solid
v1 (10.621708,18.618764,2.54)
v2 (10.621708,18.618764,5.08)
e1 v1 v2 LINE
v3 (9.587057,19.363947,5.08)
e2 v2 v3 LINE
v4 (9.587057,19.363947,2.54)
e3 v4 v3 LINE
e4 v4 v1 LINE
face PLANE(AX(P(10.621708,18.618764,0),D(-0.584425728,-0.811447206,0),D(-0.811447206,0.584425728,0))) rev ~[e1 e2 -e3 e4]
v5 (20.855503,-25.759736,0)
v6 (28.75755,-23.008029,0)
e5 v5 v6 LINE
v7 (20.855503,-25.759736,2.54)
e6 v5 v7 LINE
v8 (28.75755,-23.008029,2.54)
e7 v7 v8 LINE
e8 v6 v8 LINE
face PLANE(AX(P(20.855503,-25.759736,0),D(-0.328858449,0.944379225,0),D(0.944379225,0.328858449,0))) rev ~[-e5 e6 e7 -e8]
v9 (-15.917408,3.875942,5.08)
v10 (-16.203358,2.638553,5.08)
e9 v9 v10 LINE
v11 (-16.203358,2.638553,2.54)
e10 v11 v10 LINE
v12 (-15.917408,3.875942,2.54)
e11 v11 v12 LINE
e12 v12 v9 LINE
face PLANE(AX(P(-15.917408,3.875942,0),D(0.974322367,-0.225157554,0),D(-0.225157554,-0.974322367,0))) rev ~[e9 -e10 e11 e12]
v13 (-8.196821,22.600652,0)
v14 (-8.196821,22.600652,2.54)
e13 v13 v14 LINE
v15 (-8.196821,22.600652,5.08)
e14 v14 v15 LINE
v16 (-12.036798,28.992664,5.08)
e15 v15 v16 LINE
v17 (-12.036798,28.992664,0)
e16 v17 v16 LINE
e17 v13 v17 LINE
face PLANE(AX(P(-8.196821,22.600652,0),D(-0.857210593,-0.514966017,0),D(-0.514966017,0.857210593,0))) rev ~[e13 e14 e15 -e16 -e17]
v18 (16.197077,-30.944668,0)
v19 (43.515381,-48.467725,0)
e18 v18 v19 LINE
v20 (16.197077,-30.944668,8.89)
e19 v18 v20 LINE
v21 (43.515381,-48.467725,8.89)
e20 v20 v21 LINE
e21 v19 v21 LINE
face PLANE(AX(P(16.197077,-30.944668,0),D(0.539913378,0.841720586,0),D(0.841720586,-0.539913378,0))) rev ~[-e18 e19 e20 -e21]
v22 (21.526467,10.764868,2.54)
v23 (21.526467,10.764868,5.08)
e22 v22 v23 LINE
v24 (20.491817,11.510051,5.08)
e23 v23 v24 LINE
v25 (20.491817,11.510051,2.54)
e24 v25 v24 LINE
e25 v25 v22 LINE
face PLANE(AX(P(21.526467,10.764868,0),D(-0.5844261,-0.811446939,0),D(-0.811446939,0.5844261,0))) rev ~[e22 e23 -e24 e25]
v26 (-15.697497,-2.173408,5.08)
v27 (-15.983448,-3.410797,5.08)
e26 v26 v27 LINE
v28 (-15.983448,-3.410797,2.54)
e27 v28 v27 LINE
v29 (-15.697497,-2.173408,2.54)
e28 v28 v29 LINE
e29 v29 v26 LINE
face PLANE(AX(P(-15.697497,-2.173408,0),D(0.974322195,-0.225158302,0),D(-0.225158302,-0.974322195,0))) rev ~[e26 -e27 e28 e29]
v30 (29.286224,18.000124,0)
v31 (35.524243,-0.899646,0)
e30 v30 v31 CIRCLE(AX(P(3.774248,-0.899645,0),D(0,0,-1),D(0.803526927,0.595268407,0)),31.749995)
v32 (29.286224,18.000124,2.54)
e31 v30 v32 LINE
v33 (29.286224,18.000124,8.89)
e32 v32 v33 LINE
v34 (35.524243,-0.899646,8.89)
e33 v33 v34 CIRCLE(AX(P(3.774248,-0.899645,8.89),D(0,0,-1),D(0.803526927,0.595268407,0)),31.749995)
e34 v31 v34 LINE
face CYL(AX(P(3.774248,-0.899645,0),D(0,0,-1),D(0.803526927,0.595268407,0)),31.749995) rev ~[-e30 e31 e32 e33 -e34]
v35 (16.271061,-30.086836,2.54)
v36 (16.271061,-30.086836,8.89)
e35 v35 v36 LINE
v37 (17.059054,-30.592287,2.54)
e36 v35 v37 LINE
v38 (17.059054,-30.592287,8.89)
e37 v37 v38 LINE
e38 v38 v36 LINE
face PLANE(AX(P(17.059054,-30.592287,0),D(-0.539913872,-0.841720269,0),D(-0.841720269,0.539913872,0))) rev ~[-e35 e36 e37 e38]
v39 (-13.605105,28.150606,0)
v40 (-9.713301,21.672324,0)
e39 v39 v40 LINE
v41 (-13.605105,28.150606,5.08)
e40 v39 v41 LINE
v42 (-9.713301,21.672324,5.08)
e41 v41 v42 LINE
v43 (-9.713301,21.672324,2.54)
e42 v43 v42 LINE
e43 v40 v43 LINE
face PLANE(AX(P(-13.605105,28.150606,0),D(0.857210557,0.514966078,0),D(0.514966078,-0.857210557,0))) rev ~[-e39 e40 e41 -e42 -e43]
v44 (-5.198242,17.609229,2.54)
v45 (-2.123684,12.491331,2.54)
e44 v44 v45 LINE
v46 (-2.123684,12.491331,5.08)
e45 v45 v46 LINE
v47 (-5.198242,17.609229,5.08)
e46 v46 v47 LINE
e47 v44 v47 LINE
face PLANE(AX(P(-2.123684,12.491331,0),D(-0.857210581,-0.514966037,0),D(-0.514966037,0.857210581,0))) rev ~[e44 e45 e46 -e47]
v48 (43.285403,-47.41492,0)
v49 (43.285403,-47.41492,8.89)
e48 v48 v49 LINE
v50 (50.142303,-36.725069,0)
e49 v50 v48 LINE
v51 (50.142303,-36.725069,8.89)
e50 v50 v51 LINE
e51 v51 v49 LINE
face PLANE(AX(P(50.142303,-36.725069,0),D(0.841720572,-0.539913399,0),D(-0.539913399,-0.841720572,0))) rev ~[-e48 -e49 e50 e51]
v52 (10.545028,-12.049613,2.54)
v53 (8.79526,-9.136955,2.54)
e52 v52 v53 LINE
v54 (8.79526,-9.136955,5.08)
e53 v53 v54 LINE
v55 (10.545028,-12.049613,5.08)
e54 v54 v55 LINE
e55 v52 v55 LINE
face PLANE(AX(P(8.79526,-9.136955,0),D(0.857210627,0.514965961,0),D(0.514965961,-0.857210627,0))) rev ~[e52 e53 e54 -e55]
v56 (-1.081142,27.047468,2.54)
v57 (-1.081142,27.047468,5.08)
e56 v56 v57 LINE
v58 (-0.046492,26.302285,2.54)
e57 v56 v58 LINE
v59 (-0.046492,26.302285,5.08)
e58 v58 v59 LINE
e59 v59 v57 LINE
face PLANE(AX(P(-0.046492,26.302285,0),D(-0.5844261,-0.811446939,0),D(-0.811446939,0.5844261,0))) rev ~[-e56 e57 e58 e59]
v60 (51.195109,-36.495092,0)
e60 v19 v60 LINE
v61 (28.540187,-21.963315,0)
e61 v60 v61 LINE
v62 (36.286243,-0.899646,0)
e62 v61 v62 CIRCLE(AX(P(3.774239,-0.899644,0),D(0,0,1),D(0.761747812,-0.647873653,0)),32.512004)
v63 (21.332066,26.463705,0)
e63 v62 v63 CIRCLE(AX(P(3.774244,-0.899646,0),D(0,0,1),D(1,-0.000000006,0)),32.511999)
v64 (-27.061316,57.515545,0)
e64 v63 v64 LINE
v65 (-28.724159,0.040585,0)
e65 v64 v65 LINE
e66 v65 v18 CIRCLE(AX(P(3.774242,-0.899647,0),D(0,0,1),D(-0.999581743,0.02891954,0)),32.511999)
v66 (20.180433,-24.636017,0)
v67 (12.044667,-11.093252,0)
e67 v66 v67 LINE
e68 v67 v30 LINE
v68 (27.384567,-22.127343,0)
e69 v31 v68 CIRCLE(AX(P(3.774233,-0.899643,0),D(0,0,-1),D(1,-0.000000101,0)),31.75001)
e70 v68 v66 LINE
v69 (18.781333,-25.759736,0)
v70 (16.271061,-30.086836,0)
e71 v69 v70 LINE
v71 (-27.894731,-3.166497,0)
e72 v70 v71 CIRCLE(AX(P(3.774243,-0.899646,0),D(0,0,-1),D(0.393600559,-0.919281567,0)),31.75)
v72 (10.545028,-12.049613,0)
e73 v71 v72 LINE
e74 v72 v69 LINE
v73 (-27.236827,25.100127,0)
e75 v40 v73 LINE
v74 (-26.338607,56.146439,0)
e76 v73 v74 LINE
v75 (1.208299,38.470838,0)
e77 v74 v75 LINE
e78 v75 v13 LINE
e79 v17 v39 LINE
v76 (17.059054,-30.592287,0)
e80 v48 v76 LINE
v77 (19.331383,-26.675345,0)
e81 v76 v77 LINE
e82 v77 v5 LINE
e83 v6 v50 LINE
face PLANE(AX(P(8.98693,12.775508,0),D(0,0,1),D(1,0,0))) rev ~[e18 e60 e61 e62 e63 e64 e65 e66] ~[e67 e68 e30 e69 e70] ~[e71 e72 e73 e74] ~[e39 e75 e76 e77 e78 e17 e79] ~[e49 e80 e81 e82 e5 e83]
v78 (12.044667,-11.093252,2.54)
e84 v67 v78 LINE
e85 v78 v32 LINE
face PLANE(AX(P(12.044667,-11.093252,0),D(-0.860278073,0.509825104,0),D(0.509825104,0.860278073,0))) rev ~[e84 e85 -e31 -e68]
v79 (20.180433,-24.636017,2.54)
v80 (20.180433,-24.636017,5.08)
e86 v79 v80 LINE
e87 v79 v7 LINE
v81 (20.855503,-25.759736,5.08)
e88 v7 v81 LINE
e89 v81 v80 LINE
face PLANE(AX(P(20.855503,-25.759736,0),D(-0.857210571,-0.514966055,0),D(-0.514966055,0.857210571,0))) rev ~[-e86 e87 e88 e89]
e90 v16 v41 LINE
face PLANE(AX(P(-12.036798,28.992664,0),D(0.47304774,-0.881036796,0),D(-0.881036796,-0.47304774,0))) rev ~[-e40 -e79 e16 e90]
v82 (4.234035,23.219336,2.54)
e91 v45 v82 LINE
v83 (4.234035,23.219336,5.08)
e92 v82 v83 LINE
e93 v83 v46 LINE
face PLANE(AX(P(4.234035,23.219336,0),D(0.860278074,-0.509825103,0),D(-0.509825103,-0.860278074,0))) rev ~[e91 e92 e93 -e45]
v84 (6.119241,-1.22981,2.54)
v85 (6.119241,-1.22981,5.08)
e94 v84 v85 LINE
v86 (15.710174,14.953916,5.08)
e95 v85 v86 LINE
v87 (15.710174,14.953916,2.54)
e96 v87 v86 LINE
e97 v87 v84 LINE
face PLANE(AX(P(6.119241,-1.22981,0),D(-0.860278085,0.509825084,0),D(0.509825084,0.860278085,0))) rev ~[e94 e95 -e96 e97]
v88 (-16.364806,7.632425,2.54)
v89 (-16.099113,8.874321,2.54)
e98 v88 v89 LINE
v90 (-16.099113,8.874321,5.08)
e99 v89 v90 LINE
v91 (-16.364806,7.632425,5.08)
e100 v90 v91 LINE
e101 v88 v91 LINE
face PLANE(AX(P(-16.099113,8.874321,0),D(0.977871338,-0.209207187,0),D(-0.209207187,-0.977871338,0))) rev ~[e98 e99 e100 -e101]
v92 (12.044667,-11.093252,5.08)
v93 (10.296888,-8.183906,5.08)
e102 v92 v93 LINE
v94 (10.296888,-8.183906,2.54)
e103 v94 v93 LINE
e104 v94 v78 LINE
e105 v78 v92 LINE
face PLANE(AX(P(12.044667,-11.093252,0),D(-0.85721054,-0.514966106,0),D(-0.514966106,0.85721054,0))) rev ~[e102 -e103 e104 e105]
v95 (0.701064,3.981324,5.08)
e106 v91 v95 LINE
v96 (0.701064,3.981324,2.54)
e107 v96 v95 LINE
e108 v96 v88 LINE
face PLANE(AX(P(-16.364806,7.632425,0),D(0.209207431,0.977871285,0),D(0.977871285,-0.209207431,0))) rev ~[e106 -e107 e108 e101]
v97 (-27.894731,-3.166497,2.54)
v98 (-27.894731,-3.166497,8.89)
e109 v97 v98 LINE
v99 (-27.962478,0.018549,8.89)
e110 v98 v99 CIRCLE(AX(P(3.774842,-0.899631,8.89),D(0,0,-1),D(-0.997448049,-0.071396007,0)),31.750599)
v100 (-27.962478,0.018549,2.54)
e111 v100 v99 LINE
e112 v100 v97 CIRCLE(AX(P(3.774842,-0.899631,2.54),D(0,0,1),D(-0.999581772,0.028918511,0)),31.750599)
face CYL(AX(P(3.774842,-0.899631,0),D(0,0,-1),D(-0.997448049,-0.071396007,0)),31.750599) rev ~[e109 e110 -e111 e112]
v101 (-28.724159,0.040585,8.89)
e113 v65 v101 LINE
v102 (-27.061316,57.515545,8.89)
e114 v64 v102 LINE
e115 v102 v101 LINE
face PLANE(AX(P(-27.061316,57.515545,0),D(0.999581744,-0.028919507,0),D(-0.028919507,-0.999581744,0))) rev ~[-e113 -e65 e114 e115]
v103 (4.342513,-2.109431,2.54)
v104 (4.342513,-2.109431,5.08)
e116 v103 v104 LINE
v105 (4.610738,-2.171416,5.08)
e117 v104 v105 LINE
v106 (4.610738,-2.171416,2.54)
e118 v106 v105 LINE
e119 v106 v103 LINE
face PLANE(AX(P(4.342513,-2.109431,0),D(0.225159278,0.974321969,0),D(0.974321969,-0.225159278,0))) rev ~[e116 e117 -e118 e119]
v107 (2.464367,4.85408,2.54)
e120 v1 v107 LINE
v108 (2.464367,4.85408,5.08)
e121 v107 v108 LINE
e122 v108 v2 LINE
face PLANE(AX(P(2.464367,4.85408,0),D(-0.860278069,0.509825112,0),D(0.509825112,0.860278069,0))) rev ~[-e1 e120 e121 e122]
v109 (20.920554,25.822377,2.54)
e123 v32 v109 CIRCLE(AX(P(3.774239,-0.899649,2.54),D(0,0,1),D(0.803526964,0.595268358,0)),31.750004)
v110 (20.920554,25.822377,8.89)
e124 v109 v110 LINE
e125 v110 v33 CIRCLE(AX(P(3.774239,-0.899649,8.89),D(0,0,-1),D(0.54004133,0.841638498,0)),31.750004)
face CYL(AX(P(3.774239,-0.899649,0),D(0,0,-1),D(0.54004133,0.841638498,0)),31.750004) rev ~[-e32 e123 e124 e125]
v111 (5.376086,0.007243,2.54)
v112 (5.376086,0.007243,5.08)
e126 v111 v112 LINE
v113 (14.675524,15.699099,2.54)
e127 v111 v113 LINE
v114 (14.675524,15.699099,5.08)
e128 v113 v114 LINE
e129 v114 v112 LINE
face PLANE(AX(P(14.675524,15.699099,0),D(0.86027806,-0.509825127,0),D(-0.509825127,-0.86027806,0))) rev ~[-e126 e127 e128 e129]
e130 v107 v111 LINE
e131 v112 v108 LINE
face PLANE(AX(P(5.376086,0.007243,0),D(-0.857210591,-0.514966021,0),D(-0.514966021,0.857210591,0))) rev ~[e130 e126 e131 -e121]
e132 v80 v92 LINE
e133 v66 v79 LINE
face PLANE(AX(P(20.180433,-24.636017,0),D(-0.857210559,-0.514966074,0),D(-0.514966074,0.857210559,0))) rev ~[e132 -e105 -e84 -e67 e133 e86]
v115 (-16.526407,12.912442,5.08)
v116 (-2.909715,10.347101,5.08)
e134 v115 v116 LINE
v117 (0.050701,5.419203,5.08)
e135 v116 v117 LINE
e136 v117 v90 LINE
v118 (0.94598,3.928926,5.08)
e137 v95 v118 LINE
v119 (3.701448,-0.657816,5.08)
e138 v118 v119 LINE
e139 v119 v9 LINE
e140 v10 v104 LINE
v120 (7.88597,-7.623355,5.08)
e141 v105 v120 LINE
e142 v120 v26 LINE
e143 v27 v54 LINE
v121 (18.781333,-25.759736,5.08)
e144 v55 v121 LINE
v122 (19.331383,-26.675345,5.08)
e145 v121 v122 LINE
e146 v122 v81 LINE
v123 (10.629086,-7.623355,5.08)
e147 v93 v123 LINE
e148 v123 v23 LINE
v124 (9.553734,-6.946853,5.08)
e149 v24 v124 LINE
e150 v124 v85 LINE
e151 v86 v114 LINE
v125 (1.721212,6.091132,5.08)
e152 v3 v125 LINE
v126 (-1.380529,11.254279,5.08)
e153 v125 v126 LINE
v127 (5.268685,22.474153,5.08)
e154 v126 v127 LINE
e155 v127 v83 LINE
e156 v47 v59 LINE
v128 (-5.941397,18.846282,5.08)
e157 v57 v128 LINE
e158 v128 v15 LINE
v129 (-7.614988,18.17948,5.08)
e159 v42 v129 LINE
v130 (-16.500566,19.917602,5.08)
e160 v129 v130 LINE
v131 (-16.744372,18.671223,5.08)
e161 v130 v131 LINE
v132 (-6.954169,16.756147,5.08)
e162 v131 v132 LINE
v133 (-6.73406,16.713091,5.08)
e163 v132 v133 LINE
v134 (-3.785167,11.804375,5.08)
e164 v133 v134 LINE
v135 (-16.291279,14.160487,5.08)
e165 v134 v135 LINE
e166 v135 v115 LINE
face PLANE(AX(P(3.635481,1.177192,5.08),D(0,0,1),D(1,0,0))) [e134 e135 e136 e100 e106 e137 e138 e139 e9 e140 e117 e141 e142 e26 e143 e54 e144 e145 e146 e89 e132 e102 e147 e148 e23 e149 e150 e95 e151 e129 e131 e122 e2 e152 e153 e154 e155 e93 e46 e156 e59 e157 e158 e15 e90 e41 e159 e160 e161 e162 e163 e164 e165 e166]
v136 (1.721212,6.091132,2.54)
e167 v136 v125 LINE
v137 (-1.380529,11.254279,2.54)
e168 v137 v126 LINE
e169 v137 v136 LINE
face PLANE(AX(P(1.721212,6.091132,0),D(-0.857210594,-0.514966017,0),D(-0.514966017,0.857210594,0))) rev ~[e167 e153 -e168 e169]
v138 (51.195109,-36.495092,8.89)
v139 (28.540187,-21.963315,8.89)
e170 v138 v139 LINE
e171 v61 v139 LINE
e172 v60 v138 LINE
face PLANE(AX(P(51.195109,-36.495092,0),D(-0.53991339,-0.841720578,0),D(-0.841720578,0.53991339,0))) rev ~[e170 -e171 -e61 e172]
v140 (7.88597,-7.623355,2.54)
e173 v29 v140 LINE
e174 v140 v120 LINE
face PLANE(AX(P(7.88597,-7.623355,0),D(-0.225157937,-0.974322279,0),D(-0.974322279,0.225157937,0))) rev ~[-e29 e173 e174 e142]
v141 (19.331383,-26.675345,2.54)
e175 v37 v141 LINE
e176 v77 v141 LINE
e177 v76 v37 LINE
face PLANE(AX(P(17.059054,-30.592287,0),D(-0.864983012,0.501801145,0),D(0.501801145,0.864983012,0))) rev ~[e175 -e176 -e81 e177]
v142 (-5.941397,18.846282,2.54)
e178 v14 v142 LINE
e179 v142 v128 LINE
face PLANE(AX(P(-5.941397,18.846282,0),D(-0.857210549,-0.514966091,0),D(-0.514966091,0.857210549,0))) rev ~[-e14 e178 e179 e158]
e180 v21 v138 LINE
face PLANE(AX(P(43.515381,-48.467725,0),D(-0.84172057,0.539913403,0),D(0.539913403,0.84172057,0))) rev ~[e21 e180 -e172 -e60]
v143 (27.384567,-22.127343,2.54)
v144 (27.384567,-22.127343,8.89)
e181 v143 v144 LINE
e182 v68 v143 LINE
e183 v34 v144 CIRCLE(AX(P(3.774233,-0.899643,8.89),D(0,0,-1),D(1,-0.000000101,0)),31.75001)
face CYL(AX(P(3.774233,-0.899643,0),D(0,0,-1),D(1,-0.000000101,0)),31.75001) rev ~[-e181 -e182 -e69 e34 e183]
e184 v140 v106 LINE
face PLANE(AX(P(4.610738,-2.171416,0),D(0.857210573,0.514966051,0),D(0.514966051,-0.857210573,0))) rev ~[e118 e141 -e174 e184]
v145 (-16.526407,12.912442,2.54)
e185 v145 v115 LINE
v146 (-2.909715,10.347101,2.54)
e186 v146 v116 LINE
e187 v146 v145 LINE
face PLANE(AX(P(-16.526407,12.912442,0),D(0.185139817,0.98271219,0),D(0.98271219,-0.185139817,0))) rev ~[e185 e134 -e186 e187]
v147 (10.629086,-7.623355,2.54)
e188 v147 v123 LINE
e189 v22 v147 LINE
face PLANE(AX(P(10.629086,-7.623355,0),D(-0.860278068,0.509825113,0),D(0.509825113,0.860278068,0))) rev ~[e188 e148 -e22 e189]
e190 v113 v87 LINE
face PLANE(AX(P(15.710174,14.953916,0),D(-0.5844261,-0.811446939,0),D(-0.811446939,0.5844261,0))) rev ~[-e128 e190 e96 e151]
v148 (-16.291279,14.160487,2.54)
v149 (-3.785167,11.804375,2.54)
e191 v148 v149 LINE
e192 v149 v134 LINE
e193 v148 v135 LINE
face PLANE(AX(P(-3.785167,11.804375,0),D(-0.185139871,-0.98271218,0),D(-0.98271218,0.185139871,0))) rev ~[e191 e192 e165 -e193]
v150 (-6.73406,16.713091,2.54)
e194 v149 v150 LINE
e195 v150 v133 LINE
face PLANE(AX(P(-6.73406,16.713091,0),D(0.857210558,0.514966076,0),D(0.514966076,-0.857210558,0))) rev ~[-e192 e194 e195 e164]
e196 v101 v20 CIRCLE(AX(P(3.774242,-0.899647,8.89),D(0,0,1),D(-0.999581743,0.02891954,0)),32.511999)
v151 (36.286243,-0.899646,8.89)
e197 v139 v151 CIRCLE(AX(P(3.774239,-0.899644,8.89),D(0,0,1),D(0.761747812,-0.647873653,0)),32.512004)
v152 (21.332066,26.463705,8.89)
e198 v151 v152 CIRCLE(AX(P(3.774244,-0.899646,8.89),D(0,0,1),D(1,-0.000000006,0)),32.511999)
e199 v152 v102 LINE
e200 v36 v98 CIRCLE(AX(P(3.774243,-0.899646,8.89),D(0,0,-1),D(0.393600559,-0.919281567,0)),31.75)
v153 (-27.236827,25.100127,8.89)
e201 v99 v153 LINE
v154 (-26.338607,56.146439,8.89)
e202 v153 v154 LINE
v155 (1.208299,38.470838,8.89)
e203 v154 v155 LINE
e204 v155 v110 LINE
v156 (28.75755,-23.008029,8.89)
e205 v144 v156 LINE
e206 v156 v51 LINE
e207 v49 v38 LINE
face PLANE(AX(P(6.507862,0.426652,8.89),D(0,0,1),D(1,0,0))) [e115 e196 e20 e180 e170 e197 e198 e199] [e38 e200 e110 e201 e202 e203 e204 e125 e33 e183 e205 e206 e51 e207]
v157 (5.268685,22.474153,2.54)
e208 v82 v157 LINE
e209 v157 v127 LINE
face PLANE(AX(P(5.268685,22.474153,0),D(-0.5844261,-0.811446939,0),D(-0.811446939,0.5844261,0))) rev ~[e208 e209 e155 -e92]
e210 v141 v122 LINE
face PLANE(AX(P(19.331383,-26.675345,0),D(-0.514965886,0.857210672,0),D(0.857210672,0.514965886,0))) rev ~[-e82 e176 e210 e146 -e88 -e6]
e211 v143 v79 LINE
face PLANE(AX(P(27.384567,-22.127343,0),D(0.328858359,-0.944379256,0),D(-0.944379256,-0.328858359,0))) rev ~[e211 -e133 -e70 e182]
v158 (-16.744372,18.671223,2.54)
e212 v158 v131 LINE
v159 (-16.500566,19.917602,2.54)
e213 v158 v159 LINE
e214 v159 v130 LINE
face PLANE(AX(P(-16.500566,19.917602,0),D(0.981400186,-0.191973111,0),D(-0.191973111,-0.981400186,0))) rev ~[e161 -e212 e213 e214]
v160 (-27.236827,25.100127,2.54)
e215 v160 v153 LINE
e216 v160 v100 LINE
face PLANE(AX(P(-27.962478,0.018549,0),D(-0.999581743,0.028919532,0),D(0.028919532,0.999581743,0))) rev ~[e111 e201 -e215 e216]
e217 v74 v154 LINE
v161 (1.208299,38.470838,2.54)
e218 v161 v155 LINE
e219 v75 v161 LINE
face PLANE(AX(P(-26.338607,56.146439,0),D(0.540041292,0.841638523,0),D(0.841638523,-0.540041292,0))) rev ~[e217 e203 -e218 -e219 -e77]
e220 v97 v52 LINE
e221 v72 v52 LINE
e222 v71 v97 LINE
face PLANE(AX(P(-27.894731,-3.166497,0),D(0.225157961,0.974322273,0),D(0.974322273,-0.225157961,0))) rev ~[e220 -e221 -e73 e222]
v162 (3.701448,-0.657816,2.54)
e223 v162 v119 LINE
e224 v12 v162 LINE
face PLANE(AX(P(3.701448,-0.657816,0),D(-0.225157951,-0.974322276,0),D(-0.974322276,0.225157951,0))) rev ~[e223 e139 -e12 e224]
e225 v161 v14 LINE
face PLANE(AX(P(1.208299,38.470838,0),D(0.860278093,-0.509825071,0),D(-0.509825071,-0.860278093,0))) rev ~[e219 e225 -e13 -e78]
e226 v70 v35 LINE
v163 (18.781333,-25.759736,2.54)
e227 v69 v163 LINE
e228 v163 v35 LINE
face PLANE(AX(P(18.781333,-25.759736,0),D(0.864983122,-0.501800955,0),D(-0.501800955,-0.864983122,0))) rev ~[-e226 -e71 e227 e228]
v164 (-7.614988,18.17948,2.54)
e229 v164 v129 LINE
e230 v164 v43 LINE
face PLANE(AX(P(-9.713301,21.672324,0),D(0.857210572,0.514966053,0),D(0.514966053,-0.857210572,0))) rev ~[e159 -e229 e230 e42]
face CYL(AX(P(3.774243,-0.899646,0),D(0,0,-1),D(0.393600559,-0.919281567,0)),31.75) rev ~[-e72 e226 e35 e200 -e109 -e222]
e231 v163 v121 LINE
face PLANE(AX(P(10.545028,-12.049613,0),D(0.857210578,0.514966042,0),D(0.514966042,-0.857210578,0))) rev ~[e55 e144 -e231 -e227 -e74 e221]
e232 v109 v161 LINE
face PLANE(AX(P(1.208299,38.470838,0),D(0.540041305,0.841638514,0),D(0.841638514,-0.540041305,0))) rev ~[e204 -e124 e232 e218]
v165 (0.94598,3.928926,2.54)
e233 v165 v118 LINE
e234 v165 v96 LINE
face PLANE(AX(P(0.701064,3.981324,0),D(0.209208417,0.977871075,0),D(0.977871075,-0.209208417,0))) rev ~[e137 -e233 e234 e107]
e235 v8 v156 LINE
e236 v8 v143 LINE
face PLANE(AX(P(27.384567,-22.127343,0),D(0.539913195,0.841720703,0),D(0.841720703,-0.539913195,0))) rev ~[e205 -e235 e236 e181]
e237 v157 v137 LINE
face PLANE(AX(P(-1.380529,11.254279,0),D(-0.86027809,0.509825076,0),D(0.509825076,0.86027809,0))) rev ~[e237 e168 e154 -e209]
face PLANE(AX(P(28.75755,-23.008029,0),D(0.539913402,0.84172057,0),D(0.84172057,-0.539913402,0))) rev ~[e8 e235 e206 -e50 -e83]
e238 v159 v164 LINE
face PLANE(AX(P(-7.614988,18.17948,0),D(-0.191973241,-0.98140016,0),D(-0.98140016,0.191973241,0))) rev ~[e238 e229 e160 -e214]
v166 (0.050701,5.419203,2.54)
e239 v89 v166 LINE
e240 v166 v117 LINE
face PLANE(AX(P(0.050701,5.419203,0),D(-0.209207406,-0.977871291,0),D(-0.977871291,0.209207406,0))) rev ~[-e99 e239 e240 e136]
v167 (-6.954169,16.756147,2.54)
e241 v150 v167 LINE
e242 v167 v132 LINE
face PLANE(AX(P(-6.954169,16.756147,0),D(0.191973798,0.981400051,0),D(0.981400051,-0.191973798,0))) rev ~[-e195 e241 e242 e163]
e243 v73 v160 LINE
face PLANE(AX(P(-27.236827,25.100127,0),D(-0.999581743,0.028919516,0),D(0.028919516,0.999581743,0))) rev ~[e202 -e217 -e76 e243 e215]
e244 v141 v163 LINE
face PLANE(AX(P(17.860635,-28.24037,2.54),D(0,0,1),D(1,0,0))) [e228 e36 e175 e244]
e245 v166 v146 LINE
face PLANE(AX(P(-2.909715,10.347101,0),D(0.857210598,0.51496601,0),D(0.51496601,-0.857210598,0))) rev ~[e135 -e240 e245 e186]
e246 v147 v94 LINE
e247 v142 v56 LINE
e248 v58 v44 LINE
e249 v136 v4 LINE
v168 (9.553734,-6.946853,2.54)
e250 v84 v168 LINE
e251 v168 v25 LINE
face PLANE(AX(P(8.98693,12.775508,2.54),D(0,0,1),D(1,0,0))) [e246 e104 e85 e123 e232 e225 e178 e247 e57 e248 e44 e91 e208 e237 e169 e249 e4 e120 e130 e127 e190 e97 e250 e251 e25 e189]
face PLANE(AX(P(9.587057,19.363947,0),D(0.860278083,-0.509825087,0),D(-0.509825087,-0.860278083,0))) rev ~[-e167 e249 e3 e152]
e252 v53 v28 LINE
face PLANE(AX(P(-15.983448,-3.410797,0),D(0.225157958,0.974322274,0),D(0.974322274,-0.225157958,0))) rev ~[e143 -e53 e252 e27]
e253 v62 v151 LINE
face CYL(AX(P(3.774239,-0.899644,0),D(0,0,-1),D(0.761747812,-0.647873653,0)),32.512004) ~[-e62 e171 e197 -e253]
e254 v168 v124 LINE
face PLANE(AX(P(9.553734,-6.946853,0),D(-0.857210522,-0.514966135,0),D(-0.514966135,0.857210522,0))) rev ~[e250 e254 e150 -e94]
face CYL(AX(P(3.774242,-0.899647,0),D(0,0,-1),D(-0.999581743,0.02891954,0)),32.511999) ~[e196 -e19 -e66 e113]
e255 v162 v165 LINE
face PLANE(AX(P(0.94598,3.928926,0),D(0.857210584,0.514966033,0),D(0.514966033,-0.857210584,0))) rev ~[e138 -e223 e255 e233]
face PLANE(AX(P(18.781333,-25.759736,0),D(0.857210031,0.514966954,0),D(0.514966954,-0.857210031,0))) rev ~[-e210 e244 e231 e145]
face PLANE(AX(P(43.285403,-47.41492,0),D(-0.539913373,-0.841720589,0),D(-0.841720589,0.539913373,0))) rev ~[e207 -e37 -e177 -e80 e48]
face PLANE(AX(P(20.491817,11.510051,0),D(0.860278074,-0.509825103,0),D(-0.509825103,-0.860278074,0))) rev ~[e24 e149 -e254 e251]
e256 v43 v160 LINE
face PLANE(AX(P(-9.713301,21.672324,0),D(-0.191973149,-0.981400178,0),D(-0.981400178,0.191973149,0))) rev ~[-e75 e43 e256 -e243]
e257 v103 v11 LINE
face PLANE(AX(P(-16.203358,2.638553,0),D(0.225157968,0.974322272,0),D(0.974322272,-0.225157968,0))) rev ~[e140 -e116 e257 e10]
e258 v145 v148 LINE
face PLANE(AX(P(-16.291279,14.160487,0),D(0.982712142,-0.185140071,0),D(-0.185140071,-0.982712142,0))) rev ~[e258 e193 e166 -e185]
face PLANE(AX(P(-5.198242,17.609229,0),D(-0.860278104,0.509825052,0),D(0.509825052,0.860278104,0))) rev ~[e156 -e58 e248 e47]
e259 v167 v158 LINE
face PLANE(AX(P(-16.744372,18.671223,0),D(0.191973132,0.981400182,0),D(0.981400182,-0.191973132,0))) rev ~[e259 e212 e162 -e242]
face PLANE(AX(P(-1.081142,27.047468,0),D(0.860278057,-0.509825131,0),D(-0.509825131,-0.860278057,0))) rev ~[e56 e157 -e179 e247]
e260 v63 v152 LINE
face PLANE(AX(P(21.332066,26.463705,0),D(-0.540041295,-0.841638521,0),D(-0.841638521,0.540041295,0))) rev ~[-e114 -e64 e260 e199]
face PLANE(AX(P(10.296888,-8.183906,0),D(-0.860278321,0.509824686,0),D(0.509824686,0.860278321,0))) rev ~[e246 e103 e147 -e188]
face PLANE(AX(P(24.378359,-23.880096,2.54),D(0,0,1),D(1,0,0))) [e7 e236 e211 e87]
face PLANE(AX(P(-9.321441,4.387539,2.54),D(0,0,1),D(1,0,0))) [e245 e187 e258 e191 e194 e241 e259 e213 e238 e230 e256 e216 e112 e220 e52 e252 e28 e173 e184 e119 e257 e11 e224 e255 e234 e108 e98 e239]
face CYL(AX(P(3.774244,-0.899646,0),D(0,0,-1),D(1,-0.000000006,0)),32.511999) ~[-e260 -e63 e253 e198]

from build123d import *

# Parameters (mm, degrees)
F1_DEPTH = 8.89
F2_DEPTH = 5.08
F3_DEPTH = 2.54


with BuildPart() as f1:
    # F0 (on Top) → F1 (new body)
    with BuildSketch(Plane.XY):
        with BuildLine():
            Line((21.332066, 26.463705), (-27.061316, 57.515545))
            Line((-27.061316, 57.515545), (-28.724159, 0.040585))
            ThreePointArc((-28.724159, 0.040585), (-14.685947, -27.662523), (16.197077, -30.944668))
            Line((16.197077, -30.944668), (43.515381, -48.467725))
            Line((43.515381, -48.467725), (51.195109, -36.495092))
            Line((51.195109, -36.495092), (28.540187, -21.963315))
            ThreePointArc((28.540187, -21.963315), (34.288342, -12.121049), (36.286243, -0.899646))
            ThreePointArc((36.286243, -0.899646), (32.30379, 14.691861), (21.332066, 26.463705))
        make_face()
        with BuildLine():
            Line((-27.236827, 25.100127), (-26.338607, 56.146439))
            Line((-26.338607, 56.146439), (1.208299, 38.470838))
            Line((1.208299, 38.470838), (20.920554, 25.822377))
            ThreePointArc((20.920554, 25.822377), (25.459016, 22.291583), (29.286224, 18.000124))
            ThreePointArc((29.286224, 18.000124), (33.924433, 9.051663), (35.524243, -0.899646))
            ThreePointArc((35.524243, -0.899646), (33.419565, -12.267027), (27.384567, -22.127343))
            Line((27.384567, -22.127343), (28.75755, -23.008029))
            Line((28.75755, -23.008029), (50.142303, -36.725069))
            Line((50.142303, -36.725069), (43.285403, -47.41492))
            Line((43.285403, -47.41492), (17.059054, -30.592287))
            Line((17.059054, -30.592287), (16.271061, -30.086836))
            ThreePointArc((16.271061, -30.086836), (-12.750558, -28.010409), (-27.894731, -3.166497))
            ThreePointArc((-27.894731, -3.166497), (-27.968577, -1.574824), (-27.962478, 0.018549))
            Line((-27.962478, 0.018549), (-27.236827, 25.100127))
        make_face(mode=Mode.SUBTRACT)
    extrude(amount=F1_DEPTH)



with BuildPart() as f2:
    # F0 (on Top) → F2 (new body)
    with BuildSketch(Plane.XY):
        Polygon((-13.605105, 28.150606), (-9.713301, 21.672324), (-7.614988, 18.17948), (-6.73406, 16.713091), (-3.785167, 11.804375), (-2.909715, 10.347101), (0.050701, 5.419203), (0.94598, 3.928926), (3.701448, -0.657816), (4.610738, -2.171416), (7.88597, -7.623355), (8.79526, -9.136955), (10.545028, -12.049613), (18.781333, -25.759736), (19.331383, -26.675345), (20.855503, -25.759736), (20.180433, -24.636017), (12.044667, -11.093252), (10.296888, -8.183906), (9.553734, -6.946853), (6.119241, -1.22981), (5.376086, 0.007243), (2.464367, 4.85408), (1.721212, 6.091132), (-1.380529, 11.254279), (-2.123684, 12.491331), (-5.198242, 17.609229), (-5.941397, 18.846282), (-8.196821, 22.600652), (-12.036798, 28.992664), align=None)
        Polygon((-1.081142, 27.047468), (-5.941397, 18.846282), (-5.198242, 17.609229), (-0.046492, 26.302285), align=None)
        Polygon((4.234035, 23.219336), (-2.123684, 12.491331), (-1.380529, 11.254279), (5.268685, 22.474153), align=None)
        Polygon((9.587057, 19.363947), (1.721212, 6.091132), (2.464367, 4.85408), (10.621708, 18.618764), align=None)
        Polygon((5.376086, 0.007243), (6.119241, -1.22981), (15.710174, 14.953916), (14.675524, 15.699099), align=None)
        Polygon((9.553734, -6.946853), (10.296888, -8.183906), (10.629086, -7.623355), (21.526467, 10.764868), (20.491817, 11.510051), align=None)
        Polygon((-6.73406, 16.713091), (-7.614988, 18.17948), (-16.500566, 19.917602), (-16.744372, 18.671223), (-6.954169, 16.756147), align=None)
        Polygon((-2.909715, 10.347101), (-3.785167, 11.804375), (-16.291279, 14.160487), (-16.526407, 12.912442), align=None)
        Polygon((0.94598, 3.928926), (0.050701, 5.419203), (-16.099113, 8.874321), (-16.364806, 7.632425), (0.701064, 3.981324), align=None)
        Polygon((4.342513, -2.109431), (4.610738, -2.171416), (3.701448, -0.657816), (-15.917408, 3.875942), (-16.203358, 2.638553), align=None)
        Polygon((-15.983448, -3.410797), (8.79526, -9.136955), (7.88597, -7.623355), (-15.697497, -2.173408), align=None)
    extrude(amount=F2_DEPTH)


with BuildPart() as f1_1:
    add(f1.part)

    add(f2.part)  # F3 merges F2
    # F0 (on Top) → F3 (join)
    with BuildSketch(Plane.XY):
        with BuildLine():
            Line((20.920554, 25.822377), (1.208299, 38.470838))
            Line((1.208299, 38.470838), (-8.196821, 22.600652))
            Line((-8.196821, 22.600652), (-5.941397, 18.846282))
            Line((-5.941397, 18.846282), (-1.081142, 27.047468))
            Line((-1.081142, 27.047468), (-0.046492, 26.302285))
            Line((-0.046492, 26.302285), (-5.198242, 17.609229))
            Line((-5.198242, 17.609229), (-2.123684, 12.491331))
            Line((-2.123684, 12.491331), (4.234035, 23.219336))
            Line((4.234035, 23.219336), (5.268685, 22.474153))
            Line((5.268685, 22.474153), (-1.380529, 11.254279))
            Line((-1.380529, 11.254279), (1.721212, 6.091132))
            Line((1.721212, 6.091132), (9.587057, 19.363947))
            Line((9.587057, 19.363947), (10.621708, 18.618764))
            Line((10.621708, 18.618764), (2.464367, 4.85408))
            Line((2.464367, 4.85408), (5.376086, 0.007243))
            Line((5.376086, 0.007243), (14.675524, 15.699099))
            Line((14.675524, 15.699099), (15.710174, 14.953916))
            Line((15.710174, 14.953916), (6.119241, -1.22981))
            Line((6.119241, -1.22981), (9.553734, -6.946853))
            Line((9.553734, -6.946853), (20.491817, 11.510051))
            Line((20.491817, 11.510051), (21.526467, 10.764868))
            Line((21.526467, 10.764868), (10.629086, -7.623355))
            Line((10.629086, -7.623355), (10.296888, -8.183906))
            Line((10.296888, -8.183906), (12.044667, -11.093252))
            Line((12.044667, -11.093252), (29.286224, 18.000124))
            ThreePointArc((29.286224, 18.000124), (25.459016, 22.291583), (20.920554, 25.822377))
        make_face()
        with BuildLine():
            Line((-9.713301, 21.672324), (-27.236827, 25.100127))
            Line((-27.236827, 25.100127), (-27.962478, 0.018549))
            ThreePointArc((-27.962478, 0.018549), (-27.968577, -1.574824), (-27.894731, -3.166497))
            Line((-27.894731, -3.166497), (10.545028, -12.049613))
            Line((10.545028, -12.049613), (8.79526, -9.136955))
            Line((8.79526, -9.136955), (-15.983448, -3.410797))
            Line((-15.983448, -3.410797), (-15.697497, -2.173408))
            Line((-15.697497, -2.173408), (7.88597, -7.623355))
            Line((7.88597, -7.623355), (4.610738, -2.171416))
            Line((4.610738, -2.171416), (4.342513, -2.109431))
            Line((4.342513, -2.109431), (-16.203358, 2.638553))
            Line((-16.203358, 2.638553), (-15.917408, 3.875942))
            Line((-15.917408, 3.875942), (3.701448, -0.657816))
            Line((3.701448, -0.657816), (0.94598, 3.928926))
            Line((0.94598, 3.928926), (0.701064, 3.981324))
            Line((0.701064, 3.981324), (-16.364806, 7.632425))
            Line((-16.364806, 7.632425), (-16.099113, 8.874321))
            Line((-16.099113, 8.874321), (0.050701, 5.419203))
            Line((0.050701, 5.419203), (-2.909715, 10.347101))
            Line((-2.909715, 10.347101), (-16.526407, 12.912442))
            Line((-16.526407, 12.912442), (-16.291279, 14.160487))
            Line((-16.291279, 14.160487), (-3.785167, 11.804375))
            Line((-3.785167, 11.804375), (-6.73406, 16.713091))
            Line((-6.73406, 16.713091), (-6.954169, 16.756147))
            Line((-6.954169, 16.756147), (-16.744372, 18.671223))
            Line((-16.744372, 18.671223), (-16.500566, 19.917602))
            Line((-16.500566, 19.917602), (-7.614988, 18.17948))
            Line((-7.614988, 18.17948), (-9.713301, 21.672324))
        make_face()
        Polygon((28.75755, -23.008029), (27.384567, -22.127343), (20.180433, -24.636017), (20.855503, -25.759736), align=None)
        Polygon((18.781333, -25.759736), (16.271061, -30.086836), (17.059054, -30.592287), (19.331383, -26.675345), align=None)
    extrude(amount=F3_DEPTH)


solid = f1_1.part
